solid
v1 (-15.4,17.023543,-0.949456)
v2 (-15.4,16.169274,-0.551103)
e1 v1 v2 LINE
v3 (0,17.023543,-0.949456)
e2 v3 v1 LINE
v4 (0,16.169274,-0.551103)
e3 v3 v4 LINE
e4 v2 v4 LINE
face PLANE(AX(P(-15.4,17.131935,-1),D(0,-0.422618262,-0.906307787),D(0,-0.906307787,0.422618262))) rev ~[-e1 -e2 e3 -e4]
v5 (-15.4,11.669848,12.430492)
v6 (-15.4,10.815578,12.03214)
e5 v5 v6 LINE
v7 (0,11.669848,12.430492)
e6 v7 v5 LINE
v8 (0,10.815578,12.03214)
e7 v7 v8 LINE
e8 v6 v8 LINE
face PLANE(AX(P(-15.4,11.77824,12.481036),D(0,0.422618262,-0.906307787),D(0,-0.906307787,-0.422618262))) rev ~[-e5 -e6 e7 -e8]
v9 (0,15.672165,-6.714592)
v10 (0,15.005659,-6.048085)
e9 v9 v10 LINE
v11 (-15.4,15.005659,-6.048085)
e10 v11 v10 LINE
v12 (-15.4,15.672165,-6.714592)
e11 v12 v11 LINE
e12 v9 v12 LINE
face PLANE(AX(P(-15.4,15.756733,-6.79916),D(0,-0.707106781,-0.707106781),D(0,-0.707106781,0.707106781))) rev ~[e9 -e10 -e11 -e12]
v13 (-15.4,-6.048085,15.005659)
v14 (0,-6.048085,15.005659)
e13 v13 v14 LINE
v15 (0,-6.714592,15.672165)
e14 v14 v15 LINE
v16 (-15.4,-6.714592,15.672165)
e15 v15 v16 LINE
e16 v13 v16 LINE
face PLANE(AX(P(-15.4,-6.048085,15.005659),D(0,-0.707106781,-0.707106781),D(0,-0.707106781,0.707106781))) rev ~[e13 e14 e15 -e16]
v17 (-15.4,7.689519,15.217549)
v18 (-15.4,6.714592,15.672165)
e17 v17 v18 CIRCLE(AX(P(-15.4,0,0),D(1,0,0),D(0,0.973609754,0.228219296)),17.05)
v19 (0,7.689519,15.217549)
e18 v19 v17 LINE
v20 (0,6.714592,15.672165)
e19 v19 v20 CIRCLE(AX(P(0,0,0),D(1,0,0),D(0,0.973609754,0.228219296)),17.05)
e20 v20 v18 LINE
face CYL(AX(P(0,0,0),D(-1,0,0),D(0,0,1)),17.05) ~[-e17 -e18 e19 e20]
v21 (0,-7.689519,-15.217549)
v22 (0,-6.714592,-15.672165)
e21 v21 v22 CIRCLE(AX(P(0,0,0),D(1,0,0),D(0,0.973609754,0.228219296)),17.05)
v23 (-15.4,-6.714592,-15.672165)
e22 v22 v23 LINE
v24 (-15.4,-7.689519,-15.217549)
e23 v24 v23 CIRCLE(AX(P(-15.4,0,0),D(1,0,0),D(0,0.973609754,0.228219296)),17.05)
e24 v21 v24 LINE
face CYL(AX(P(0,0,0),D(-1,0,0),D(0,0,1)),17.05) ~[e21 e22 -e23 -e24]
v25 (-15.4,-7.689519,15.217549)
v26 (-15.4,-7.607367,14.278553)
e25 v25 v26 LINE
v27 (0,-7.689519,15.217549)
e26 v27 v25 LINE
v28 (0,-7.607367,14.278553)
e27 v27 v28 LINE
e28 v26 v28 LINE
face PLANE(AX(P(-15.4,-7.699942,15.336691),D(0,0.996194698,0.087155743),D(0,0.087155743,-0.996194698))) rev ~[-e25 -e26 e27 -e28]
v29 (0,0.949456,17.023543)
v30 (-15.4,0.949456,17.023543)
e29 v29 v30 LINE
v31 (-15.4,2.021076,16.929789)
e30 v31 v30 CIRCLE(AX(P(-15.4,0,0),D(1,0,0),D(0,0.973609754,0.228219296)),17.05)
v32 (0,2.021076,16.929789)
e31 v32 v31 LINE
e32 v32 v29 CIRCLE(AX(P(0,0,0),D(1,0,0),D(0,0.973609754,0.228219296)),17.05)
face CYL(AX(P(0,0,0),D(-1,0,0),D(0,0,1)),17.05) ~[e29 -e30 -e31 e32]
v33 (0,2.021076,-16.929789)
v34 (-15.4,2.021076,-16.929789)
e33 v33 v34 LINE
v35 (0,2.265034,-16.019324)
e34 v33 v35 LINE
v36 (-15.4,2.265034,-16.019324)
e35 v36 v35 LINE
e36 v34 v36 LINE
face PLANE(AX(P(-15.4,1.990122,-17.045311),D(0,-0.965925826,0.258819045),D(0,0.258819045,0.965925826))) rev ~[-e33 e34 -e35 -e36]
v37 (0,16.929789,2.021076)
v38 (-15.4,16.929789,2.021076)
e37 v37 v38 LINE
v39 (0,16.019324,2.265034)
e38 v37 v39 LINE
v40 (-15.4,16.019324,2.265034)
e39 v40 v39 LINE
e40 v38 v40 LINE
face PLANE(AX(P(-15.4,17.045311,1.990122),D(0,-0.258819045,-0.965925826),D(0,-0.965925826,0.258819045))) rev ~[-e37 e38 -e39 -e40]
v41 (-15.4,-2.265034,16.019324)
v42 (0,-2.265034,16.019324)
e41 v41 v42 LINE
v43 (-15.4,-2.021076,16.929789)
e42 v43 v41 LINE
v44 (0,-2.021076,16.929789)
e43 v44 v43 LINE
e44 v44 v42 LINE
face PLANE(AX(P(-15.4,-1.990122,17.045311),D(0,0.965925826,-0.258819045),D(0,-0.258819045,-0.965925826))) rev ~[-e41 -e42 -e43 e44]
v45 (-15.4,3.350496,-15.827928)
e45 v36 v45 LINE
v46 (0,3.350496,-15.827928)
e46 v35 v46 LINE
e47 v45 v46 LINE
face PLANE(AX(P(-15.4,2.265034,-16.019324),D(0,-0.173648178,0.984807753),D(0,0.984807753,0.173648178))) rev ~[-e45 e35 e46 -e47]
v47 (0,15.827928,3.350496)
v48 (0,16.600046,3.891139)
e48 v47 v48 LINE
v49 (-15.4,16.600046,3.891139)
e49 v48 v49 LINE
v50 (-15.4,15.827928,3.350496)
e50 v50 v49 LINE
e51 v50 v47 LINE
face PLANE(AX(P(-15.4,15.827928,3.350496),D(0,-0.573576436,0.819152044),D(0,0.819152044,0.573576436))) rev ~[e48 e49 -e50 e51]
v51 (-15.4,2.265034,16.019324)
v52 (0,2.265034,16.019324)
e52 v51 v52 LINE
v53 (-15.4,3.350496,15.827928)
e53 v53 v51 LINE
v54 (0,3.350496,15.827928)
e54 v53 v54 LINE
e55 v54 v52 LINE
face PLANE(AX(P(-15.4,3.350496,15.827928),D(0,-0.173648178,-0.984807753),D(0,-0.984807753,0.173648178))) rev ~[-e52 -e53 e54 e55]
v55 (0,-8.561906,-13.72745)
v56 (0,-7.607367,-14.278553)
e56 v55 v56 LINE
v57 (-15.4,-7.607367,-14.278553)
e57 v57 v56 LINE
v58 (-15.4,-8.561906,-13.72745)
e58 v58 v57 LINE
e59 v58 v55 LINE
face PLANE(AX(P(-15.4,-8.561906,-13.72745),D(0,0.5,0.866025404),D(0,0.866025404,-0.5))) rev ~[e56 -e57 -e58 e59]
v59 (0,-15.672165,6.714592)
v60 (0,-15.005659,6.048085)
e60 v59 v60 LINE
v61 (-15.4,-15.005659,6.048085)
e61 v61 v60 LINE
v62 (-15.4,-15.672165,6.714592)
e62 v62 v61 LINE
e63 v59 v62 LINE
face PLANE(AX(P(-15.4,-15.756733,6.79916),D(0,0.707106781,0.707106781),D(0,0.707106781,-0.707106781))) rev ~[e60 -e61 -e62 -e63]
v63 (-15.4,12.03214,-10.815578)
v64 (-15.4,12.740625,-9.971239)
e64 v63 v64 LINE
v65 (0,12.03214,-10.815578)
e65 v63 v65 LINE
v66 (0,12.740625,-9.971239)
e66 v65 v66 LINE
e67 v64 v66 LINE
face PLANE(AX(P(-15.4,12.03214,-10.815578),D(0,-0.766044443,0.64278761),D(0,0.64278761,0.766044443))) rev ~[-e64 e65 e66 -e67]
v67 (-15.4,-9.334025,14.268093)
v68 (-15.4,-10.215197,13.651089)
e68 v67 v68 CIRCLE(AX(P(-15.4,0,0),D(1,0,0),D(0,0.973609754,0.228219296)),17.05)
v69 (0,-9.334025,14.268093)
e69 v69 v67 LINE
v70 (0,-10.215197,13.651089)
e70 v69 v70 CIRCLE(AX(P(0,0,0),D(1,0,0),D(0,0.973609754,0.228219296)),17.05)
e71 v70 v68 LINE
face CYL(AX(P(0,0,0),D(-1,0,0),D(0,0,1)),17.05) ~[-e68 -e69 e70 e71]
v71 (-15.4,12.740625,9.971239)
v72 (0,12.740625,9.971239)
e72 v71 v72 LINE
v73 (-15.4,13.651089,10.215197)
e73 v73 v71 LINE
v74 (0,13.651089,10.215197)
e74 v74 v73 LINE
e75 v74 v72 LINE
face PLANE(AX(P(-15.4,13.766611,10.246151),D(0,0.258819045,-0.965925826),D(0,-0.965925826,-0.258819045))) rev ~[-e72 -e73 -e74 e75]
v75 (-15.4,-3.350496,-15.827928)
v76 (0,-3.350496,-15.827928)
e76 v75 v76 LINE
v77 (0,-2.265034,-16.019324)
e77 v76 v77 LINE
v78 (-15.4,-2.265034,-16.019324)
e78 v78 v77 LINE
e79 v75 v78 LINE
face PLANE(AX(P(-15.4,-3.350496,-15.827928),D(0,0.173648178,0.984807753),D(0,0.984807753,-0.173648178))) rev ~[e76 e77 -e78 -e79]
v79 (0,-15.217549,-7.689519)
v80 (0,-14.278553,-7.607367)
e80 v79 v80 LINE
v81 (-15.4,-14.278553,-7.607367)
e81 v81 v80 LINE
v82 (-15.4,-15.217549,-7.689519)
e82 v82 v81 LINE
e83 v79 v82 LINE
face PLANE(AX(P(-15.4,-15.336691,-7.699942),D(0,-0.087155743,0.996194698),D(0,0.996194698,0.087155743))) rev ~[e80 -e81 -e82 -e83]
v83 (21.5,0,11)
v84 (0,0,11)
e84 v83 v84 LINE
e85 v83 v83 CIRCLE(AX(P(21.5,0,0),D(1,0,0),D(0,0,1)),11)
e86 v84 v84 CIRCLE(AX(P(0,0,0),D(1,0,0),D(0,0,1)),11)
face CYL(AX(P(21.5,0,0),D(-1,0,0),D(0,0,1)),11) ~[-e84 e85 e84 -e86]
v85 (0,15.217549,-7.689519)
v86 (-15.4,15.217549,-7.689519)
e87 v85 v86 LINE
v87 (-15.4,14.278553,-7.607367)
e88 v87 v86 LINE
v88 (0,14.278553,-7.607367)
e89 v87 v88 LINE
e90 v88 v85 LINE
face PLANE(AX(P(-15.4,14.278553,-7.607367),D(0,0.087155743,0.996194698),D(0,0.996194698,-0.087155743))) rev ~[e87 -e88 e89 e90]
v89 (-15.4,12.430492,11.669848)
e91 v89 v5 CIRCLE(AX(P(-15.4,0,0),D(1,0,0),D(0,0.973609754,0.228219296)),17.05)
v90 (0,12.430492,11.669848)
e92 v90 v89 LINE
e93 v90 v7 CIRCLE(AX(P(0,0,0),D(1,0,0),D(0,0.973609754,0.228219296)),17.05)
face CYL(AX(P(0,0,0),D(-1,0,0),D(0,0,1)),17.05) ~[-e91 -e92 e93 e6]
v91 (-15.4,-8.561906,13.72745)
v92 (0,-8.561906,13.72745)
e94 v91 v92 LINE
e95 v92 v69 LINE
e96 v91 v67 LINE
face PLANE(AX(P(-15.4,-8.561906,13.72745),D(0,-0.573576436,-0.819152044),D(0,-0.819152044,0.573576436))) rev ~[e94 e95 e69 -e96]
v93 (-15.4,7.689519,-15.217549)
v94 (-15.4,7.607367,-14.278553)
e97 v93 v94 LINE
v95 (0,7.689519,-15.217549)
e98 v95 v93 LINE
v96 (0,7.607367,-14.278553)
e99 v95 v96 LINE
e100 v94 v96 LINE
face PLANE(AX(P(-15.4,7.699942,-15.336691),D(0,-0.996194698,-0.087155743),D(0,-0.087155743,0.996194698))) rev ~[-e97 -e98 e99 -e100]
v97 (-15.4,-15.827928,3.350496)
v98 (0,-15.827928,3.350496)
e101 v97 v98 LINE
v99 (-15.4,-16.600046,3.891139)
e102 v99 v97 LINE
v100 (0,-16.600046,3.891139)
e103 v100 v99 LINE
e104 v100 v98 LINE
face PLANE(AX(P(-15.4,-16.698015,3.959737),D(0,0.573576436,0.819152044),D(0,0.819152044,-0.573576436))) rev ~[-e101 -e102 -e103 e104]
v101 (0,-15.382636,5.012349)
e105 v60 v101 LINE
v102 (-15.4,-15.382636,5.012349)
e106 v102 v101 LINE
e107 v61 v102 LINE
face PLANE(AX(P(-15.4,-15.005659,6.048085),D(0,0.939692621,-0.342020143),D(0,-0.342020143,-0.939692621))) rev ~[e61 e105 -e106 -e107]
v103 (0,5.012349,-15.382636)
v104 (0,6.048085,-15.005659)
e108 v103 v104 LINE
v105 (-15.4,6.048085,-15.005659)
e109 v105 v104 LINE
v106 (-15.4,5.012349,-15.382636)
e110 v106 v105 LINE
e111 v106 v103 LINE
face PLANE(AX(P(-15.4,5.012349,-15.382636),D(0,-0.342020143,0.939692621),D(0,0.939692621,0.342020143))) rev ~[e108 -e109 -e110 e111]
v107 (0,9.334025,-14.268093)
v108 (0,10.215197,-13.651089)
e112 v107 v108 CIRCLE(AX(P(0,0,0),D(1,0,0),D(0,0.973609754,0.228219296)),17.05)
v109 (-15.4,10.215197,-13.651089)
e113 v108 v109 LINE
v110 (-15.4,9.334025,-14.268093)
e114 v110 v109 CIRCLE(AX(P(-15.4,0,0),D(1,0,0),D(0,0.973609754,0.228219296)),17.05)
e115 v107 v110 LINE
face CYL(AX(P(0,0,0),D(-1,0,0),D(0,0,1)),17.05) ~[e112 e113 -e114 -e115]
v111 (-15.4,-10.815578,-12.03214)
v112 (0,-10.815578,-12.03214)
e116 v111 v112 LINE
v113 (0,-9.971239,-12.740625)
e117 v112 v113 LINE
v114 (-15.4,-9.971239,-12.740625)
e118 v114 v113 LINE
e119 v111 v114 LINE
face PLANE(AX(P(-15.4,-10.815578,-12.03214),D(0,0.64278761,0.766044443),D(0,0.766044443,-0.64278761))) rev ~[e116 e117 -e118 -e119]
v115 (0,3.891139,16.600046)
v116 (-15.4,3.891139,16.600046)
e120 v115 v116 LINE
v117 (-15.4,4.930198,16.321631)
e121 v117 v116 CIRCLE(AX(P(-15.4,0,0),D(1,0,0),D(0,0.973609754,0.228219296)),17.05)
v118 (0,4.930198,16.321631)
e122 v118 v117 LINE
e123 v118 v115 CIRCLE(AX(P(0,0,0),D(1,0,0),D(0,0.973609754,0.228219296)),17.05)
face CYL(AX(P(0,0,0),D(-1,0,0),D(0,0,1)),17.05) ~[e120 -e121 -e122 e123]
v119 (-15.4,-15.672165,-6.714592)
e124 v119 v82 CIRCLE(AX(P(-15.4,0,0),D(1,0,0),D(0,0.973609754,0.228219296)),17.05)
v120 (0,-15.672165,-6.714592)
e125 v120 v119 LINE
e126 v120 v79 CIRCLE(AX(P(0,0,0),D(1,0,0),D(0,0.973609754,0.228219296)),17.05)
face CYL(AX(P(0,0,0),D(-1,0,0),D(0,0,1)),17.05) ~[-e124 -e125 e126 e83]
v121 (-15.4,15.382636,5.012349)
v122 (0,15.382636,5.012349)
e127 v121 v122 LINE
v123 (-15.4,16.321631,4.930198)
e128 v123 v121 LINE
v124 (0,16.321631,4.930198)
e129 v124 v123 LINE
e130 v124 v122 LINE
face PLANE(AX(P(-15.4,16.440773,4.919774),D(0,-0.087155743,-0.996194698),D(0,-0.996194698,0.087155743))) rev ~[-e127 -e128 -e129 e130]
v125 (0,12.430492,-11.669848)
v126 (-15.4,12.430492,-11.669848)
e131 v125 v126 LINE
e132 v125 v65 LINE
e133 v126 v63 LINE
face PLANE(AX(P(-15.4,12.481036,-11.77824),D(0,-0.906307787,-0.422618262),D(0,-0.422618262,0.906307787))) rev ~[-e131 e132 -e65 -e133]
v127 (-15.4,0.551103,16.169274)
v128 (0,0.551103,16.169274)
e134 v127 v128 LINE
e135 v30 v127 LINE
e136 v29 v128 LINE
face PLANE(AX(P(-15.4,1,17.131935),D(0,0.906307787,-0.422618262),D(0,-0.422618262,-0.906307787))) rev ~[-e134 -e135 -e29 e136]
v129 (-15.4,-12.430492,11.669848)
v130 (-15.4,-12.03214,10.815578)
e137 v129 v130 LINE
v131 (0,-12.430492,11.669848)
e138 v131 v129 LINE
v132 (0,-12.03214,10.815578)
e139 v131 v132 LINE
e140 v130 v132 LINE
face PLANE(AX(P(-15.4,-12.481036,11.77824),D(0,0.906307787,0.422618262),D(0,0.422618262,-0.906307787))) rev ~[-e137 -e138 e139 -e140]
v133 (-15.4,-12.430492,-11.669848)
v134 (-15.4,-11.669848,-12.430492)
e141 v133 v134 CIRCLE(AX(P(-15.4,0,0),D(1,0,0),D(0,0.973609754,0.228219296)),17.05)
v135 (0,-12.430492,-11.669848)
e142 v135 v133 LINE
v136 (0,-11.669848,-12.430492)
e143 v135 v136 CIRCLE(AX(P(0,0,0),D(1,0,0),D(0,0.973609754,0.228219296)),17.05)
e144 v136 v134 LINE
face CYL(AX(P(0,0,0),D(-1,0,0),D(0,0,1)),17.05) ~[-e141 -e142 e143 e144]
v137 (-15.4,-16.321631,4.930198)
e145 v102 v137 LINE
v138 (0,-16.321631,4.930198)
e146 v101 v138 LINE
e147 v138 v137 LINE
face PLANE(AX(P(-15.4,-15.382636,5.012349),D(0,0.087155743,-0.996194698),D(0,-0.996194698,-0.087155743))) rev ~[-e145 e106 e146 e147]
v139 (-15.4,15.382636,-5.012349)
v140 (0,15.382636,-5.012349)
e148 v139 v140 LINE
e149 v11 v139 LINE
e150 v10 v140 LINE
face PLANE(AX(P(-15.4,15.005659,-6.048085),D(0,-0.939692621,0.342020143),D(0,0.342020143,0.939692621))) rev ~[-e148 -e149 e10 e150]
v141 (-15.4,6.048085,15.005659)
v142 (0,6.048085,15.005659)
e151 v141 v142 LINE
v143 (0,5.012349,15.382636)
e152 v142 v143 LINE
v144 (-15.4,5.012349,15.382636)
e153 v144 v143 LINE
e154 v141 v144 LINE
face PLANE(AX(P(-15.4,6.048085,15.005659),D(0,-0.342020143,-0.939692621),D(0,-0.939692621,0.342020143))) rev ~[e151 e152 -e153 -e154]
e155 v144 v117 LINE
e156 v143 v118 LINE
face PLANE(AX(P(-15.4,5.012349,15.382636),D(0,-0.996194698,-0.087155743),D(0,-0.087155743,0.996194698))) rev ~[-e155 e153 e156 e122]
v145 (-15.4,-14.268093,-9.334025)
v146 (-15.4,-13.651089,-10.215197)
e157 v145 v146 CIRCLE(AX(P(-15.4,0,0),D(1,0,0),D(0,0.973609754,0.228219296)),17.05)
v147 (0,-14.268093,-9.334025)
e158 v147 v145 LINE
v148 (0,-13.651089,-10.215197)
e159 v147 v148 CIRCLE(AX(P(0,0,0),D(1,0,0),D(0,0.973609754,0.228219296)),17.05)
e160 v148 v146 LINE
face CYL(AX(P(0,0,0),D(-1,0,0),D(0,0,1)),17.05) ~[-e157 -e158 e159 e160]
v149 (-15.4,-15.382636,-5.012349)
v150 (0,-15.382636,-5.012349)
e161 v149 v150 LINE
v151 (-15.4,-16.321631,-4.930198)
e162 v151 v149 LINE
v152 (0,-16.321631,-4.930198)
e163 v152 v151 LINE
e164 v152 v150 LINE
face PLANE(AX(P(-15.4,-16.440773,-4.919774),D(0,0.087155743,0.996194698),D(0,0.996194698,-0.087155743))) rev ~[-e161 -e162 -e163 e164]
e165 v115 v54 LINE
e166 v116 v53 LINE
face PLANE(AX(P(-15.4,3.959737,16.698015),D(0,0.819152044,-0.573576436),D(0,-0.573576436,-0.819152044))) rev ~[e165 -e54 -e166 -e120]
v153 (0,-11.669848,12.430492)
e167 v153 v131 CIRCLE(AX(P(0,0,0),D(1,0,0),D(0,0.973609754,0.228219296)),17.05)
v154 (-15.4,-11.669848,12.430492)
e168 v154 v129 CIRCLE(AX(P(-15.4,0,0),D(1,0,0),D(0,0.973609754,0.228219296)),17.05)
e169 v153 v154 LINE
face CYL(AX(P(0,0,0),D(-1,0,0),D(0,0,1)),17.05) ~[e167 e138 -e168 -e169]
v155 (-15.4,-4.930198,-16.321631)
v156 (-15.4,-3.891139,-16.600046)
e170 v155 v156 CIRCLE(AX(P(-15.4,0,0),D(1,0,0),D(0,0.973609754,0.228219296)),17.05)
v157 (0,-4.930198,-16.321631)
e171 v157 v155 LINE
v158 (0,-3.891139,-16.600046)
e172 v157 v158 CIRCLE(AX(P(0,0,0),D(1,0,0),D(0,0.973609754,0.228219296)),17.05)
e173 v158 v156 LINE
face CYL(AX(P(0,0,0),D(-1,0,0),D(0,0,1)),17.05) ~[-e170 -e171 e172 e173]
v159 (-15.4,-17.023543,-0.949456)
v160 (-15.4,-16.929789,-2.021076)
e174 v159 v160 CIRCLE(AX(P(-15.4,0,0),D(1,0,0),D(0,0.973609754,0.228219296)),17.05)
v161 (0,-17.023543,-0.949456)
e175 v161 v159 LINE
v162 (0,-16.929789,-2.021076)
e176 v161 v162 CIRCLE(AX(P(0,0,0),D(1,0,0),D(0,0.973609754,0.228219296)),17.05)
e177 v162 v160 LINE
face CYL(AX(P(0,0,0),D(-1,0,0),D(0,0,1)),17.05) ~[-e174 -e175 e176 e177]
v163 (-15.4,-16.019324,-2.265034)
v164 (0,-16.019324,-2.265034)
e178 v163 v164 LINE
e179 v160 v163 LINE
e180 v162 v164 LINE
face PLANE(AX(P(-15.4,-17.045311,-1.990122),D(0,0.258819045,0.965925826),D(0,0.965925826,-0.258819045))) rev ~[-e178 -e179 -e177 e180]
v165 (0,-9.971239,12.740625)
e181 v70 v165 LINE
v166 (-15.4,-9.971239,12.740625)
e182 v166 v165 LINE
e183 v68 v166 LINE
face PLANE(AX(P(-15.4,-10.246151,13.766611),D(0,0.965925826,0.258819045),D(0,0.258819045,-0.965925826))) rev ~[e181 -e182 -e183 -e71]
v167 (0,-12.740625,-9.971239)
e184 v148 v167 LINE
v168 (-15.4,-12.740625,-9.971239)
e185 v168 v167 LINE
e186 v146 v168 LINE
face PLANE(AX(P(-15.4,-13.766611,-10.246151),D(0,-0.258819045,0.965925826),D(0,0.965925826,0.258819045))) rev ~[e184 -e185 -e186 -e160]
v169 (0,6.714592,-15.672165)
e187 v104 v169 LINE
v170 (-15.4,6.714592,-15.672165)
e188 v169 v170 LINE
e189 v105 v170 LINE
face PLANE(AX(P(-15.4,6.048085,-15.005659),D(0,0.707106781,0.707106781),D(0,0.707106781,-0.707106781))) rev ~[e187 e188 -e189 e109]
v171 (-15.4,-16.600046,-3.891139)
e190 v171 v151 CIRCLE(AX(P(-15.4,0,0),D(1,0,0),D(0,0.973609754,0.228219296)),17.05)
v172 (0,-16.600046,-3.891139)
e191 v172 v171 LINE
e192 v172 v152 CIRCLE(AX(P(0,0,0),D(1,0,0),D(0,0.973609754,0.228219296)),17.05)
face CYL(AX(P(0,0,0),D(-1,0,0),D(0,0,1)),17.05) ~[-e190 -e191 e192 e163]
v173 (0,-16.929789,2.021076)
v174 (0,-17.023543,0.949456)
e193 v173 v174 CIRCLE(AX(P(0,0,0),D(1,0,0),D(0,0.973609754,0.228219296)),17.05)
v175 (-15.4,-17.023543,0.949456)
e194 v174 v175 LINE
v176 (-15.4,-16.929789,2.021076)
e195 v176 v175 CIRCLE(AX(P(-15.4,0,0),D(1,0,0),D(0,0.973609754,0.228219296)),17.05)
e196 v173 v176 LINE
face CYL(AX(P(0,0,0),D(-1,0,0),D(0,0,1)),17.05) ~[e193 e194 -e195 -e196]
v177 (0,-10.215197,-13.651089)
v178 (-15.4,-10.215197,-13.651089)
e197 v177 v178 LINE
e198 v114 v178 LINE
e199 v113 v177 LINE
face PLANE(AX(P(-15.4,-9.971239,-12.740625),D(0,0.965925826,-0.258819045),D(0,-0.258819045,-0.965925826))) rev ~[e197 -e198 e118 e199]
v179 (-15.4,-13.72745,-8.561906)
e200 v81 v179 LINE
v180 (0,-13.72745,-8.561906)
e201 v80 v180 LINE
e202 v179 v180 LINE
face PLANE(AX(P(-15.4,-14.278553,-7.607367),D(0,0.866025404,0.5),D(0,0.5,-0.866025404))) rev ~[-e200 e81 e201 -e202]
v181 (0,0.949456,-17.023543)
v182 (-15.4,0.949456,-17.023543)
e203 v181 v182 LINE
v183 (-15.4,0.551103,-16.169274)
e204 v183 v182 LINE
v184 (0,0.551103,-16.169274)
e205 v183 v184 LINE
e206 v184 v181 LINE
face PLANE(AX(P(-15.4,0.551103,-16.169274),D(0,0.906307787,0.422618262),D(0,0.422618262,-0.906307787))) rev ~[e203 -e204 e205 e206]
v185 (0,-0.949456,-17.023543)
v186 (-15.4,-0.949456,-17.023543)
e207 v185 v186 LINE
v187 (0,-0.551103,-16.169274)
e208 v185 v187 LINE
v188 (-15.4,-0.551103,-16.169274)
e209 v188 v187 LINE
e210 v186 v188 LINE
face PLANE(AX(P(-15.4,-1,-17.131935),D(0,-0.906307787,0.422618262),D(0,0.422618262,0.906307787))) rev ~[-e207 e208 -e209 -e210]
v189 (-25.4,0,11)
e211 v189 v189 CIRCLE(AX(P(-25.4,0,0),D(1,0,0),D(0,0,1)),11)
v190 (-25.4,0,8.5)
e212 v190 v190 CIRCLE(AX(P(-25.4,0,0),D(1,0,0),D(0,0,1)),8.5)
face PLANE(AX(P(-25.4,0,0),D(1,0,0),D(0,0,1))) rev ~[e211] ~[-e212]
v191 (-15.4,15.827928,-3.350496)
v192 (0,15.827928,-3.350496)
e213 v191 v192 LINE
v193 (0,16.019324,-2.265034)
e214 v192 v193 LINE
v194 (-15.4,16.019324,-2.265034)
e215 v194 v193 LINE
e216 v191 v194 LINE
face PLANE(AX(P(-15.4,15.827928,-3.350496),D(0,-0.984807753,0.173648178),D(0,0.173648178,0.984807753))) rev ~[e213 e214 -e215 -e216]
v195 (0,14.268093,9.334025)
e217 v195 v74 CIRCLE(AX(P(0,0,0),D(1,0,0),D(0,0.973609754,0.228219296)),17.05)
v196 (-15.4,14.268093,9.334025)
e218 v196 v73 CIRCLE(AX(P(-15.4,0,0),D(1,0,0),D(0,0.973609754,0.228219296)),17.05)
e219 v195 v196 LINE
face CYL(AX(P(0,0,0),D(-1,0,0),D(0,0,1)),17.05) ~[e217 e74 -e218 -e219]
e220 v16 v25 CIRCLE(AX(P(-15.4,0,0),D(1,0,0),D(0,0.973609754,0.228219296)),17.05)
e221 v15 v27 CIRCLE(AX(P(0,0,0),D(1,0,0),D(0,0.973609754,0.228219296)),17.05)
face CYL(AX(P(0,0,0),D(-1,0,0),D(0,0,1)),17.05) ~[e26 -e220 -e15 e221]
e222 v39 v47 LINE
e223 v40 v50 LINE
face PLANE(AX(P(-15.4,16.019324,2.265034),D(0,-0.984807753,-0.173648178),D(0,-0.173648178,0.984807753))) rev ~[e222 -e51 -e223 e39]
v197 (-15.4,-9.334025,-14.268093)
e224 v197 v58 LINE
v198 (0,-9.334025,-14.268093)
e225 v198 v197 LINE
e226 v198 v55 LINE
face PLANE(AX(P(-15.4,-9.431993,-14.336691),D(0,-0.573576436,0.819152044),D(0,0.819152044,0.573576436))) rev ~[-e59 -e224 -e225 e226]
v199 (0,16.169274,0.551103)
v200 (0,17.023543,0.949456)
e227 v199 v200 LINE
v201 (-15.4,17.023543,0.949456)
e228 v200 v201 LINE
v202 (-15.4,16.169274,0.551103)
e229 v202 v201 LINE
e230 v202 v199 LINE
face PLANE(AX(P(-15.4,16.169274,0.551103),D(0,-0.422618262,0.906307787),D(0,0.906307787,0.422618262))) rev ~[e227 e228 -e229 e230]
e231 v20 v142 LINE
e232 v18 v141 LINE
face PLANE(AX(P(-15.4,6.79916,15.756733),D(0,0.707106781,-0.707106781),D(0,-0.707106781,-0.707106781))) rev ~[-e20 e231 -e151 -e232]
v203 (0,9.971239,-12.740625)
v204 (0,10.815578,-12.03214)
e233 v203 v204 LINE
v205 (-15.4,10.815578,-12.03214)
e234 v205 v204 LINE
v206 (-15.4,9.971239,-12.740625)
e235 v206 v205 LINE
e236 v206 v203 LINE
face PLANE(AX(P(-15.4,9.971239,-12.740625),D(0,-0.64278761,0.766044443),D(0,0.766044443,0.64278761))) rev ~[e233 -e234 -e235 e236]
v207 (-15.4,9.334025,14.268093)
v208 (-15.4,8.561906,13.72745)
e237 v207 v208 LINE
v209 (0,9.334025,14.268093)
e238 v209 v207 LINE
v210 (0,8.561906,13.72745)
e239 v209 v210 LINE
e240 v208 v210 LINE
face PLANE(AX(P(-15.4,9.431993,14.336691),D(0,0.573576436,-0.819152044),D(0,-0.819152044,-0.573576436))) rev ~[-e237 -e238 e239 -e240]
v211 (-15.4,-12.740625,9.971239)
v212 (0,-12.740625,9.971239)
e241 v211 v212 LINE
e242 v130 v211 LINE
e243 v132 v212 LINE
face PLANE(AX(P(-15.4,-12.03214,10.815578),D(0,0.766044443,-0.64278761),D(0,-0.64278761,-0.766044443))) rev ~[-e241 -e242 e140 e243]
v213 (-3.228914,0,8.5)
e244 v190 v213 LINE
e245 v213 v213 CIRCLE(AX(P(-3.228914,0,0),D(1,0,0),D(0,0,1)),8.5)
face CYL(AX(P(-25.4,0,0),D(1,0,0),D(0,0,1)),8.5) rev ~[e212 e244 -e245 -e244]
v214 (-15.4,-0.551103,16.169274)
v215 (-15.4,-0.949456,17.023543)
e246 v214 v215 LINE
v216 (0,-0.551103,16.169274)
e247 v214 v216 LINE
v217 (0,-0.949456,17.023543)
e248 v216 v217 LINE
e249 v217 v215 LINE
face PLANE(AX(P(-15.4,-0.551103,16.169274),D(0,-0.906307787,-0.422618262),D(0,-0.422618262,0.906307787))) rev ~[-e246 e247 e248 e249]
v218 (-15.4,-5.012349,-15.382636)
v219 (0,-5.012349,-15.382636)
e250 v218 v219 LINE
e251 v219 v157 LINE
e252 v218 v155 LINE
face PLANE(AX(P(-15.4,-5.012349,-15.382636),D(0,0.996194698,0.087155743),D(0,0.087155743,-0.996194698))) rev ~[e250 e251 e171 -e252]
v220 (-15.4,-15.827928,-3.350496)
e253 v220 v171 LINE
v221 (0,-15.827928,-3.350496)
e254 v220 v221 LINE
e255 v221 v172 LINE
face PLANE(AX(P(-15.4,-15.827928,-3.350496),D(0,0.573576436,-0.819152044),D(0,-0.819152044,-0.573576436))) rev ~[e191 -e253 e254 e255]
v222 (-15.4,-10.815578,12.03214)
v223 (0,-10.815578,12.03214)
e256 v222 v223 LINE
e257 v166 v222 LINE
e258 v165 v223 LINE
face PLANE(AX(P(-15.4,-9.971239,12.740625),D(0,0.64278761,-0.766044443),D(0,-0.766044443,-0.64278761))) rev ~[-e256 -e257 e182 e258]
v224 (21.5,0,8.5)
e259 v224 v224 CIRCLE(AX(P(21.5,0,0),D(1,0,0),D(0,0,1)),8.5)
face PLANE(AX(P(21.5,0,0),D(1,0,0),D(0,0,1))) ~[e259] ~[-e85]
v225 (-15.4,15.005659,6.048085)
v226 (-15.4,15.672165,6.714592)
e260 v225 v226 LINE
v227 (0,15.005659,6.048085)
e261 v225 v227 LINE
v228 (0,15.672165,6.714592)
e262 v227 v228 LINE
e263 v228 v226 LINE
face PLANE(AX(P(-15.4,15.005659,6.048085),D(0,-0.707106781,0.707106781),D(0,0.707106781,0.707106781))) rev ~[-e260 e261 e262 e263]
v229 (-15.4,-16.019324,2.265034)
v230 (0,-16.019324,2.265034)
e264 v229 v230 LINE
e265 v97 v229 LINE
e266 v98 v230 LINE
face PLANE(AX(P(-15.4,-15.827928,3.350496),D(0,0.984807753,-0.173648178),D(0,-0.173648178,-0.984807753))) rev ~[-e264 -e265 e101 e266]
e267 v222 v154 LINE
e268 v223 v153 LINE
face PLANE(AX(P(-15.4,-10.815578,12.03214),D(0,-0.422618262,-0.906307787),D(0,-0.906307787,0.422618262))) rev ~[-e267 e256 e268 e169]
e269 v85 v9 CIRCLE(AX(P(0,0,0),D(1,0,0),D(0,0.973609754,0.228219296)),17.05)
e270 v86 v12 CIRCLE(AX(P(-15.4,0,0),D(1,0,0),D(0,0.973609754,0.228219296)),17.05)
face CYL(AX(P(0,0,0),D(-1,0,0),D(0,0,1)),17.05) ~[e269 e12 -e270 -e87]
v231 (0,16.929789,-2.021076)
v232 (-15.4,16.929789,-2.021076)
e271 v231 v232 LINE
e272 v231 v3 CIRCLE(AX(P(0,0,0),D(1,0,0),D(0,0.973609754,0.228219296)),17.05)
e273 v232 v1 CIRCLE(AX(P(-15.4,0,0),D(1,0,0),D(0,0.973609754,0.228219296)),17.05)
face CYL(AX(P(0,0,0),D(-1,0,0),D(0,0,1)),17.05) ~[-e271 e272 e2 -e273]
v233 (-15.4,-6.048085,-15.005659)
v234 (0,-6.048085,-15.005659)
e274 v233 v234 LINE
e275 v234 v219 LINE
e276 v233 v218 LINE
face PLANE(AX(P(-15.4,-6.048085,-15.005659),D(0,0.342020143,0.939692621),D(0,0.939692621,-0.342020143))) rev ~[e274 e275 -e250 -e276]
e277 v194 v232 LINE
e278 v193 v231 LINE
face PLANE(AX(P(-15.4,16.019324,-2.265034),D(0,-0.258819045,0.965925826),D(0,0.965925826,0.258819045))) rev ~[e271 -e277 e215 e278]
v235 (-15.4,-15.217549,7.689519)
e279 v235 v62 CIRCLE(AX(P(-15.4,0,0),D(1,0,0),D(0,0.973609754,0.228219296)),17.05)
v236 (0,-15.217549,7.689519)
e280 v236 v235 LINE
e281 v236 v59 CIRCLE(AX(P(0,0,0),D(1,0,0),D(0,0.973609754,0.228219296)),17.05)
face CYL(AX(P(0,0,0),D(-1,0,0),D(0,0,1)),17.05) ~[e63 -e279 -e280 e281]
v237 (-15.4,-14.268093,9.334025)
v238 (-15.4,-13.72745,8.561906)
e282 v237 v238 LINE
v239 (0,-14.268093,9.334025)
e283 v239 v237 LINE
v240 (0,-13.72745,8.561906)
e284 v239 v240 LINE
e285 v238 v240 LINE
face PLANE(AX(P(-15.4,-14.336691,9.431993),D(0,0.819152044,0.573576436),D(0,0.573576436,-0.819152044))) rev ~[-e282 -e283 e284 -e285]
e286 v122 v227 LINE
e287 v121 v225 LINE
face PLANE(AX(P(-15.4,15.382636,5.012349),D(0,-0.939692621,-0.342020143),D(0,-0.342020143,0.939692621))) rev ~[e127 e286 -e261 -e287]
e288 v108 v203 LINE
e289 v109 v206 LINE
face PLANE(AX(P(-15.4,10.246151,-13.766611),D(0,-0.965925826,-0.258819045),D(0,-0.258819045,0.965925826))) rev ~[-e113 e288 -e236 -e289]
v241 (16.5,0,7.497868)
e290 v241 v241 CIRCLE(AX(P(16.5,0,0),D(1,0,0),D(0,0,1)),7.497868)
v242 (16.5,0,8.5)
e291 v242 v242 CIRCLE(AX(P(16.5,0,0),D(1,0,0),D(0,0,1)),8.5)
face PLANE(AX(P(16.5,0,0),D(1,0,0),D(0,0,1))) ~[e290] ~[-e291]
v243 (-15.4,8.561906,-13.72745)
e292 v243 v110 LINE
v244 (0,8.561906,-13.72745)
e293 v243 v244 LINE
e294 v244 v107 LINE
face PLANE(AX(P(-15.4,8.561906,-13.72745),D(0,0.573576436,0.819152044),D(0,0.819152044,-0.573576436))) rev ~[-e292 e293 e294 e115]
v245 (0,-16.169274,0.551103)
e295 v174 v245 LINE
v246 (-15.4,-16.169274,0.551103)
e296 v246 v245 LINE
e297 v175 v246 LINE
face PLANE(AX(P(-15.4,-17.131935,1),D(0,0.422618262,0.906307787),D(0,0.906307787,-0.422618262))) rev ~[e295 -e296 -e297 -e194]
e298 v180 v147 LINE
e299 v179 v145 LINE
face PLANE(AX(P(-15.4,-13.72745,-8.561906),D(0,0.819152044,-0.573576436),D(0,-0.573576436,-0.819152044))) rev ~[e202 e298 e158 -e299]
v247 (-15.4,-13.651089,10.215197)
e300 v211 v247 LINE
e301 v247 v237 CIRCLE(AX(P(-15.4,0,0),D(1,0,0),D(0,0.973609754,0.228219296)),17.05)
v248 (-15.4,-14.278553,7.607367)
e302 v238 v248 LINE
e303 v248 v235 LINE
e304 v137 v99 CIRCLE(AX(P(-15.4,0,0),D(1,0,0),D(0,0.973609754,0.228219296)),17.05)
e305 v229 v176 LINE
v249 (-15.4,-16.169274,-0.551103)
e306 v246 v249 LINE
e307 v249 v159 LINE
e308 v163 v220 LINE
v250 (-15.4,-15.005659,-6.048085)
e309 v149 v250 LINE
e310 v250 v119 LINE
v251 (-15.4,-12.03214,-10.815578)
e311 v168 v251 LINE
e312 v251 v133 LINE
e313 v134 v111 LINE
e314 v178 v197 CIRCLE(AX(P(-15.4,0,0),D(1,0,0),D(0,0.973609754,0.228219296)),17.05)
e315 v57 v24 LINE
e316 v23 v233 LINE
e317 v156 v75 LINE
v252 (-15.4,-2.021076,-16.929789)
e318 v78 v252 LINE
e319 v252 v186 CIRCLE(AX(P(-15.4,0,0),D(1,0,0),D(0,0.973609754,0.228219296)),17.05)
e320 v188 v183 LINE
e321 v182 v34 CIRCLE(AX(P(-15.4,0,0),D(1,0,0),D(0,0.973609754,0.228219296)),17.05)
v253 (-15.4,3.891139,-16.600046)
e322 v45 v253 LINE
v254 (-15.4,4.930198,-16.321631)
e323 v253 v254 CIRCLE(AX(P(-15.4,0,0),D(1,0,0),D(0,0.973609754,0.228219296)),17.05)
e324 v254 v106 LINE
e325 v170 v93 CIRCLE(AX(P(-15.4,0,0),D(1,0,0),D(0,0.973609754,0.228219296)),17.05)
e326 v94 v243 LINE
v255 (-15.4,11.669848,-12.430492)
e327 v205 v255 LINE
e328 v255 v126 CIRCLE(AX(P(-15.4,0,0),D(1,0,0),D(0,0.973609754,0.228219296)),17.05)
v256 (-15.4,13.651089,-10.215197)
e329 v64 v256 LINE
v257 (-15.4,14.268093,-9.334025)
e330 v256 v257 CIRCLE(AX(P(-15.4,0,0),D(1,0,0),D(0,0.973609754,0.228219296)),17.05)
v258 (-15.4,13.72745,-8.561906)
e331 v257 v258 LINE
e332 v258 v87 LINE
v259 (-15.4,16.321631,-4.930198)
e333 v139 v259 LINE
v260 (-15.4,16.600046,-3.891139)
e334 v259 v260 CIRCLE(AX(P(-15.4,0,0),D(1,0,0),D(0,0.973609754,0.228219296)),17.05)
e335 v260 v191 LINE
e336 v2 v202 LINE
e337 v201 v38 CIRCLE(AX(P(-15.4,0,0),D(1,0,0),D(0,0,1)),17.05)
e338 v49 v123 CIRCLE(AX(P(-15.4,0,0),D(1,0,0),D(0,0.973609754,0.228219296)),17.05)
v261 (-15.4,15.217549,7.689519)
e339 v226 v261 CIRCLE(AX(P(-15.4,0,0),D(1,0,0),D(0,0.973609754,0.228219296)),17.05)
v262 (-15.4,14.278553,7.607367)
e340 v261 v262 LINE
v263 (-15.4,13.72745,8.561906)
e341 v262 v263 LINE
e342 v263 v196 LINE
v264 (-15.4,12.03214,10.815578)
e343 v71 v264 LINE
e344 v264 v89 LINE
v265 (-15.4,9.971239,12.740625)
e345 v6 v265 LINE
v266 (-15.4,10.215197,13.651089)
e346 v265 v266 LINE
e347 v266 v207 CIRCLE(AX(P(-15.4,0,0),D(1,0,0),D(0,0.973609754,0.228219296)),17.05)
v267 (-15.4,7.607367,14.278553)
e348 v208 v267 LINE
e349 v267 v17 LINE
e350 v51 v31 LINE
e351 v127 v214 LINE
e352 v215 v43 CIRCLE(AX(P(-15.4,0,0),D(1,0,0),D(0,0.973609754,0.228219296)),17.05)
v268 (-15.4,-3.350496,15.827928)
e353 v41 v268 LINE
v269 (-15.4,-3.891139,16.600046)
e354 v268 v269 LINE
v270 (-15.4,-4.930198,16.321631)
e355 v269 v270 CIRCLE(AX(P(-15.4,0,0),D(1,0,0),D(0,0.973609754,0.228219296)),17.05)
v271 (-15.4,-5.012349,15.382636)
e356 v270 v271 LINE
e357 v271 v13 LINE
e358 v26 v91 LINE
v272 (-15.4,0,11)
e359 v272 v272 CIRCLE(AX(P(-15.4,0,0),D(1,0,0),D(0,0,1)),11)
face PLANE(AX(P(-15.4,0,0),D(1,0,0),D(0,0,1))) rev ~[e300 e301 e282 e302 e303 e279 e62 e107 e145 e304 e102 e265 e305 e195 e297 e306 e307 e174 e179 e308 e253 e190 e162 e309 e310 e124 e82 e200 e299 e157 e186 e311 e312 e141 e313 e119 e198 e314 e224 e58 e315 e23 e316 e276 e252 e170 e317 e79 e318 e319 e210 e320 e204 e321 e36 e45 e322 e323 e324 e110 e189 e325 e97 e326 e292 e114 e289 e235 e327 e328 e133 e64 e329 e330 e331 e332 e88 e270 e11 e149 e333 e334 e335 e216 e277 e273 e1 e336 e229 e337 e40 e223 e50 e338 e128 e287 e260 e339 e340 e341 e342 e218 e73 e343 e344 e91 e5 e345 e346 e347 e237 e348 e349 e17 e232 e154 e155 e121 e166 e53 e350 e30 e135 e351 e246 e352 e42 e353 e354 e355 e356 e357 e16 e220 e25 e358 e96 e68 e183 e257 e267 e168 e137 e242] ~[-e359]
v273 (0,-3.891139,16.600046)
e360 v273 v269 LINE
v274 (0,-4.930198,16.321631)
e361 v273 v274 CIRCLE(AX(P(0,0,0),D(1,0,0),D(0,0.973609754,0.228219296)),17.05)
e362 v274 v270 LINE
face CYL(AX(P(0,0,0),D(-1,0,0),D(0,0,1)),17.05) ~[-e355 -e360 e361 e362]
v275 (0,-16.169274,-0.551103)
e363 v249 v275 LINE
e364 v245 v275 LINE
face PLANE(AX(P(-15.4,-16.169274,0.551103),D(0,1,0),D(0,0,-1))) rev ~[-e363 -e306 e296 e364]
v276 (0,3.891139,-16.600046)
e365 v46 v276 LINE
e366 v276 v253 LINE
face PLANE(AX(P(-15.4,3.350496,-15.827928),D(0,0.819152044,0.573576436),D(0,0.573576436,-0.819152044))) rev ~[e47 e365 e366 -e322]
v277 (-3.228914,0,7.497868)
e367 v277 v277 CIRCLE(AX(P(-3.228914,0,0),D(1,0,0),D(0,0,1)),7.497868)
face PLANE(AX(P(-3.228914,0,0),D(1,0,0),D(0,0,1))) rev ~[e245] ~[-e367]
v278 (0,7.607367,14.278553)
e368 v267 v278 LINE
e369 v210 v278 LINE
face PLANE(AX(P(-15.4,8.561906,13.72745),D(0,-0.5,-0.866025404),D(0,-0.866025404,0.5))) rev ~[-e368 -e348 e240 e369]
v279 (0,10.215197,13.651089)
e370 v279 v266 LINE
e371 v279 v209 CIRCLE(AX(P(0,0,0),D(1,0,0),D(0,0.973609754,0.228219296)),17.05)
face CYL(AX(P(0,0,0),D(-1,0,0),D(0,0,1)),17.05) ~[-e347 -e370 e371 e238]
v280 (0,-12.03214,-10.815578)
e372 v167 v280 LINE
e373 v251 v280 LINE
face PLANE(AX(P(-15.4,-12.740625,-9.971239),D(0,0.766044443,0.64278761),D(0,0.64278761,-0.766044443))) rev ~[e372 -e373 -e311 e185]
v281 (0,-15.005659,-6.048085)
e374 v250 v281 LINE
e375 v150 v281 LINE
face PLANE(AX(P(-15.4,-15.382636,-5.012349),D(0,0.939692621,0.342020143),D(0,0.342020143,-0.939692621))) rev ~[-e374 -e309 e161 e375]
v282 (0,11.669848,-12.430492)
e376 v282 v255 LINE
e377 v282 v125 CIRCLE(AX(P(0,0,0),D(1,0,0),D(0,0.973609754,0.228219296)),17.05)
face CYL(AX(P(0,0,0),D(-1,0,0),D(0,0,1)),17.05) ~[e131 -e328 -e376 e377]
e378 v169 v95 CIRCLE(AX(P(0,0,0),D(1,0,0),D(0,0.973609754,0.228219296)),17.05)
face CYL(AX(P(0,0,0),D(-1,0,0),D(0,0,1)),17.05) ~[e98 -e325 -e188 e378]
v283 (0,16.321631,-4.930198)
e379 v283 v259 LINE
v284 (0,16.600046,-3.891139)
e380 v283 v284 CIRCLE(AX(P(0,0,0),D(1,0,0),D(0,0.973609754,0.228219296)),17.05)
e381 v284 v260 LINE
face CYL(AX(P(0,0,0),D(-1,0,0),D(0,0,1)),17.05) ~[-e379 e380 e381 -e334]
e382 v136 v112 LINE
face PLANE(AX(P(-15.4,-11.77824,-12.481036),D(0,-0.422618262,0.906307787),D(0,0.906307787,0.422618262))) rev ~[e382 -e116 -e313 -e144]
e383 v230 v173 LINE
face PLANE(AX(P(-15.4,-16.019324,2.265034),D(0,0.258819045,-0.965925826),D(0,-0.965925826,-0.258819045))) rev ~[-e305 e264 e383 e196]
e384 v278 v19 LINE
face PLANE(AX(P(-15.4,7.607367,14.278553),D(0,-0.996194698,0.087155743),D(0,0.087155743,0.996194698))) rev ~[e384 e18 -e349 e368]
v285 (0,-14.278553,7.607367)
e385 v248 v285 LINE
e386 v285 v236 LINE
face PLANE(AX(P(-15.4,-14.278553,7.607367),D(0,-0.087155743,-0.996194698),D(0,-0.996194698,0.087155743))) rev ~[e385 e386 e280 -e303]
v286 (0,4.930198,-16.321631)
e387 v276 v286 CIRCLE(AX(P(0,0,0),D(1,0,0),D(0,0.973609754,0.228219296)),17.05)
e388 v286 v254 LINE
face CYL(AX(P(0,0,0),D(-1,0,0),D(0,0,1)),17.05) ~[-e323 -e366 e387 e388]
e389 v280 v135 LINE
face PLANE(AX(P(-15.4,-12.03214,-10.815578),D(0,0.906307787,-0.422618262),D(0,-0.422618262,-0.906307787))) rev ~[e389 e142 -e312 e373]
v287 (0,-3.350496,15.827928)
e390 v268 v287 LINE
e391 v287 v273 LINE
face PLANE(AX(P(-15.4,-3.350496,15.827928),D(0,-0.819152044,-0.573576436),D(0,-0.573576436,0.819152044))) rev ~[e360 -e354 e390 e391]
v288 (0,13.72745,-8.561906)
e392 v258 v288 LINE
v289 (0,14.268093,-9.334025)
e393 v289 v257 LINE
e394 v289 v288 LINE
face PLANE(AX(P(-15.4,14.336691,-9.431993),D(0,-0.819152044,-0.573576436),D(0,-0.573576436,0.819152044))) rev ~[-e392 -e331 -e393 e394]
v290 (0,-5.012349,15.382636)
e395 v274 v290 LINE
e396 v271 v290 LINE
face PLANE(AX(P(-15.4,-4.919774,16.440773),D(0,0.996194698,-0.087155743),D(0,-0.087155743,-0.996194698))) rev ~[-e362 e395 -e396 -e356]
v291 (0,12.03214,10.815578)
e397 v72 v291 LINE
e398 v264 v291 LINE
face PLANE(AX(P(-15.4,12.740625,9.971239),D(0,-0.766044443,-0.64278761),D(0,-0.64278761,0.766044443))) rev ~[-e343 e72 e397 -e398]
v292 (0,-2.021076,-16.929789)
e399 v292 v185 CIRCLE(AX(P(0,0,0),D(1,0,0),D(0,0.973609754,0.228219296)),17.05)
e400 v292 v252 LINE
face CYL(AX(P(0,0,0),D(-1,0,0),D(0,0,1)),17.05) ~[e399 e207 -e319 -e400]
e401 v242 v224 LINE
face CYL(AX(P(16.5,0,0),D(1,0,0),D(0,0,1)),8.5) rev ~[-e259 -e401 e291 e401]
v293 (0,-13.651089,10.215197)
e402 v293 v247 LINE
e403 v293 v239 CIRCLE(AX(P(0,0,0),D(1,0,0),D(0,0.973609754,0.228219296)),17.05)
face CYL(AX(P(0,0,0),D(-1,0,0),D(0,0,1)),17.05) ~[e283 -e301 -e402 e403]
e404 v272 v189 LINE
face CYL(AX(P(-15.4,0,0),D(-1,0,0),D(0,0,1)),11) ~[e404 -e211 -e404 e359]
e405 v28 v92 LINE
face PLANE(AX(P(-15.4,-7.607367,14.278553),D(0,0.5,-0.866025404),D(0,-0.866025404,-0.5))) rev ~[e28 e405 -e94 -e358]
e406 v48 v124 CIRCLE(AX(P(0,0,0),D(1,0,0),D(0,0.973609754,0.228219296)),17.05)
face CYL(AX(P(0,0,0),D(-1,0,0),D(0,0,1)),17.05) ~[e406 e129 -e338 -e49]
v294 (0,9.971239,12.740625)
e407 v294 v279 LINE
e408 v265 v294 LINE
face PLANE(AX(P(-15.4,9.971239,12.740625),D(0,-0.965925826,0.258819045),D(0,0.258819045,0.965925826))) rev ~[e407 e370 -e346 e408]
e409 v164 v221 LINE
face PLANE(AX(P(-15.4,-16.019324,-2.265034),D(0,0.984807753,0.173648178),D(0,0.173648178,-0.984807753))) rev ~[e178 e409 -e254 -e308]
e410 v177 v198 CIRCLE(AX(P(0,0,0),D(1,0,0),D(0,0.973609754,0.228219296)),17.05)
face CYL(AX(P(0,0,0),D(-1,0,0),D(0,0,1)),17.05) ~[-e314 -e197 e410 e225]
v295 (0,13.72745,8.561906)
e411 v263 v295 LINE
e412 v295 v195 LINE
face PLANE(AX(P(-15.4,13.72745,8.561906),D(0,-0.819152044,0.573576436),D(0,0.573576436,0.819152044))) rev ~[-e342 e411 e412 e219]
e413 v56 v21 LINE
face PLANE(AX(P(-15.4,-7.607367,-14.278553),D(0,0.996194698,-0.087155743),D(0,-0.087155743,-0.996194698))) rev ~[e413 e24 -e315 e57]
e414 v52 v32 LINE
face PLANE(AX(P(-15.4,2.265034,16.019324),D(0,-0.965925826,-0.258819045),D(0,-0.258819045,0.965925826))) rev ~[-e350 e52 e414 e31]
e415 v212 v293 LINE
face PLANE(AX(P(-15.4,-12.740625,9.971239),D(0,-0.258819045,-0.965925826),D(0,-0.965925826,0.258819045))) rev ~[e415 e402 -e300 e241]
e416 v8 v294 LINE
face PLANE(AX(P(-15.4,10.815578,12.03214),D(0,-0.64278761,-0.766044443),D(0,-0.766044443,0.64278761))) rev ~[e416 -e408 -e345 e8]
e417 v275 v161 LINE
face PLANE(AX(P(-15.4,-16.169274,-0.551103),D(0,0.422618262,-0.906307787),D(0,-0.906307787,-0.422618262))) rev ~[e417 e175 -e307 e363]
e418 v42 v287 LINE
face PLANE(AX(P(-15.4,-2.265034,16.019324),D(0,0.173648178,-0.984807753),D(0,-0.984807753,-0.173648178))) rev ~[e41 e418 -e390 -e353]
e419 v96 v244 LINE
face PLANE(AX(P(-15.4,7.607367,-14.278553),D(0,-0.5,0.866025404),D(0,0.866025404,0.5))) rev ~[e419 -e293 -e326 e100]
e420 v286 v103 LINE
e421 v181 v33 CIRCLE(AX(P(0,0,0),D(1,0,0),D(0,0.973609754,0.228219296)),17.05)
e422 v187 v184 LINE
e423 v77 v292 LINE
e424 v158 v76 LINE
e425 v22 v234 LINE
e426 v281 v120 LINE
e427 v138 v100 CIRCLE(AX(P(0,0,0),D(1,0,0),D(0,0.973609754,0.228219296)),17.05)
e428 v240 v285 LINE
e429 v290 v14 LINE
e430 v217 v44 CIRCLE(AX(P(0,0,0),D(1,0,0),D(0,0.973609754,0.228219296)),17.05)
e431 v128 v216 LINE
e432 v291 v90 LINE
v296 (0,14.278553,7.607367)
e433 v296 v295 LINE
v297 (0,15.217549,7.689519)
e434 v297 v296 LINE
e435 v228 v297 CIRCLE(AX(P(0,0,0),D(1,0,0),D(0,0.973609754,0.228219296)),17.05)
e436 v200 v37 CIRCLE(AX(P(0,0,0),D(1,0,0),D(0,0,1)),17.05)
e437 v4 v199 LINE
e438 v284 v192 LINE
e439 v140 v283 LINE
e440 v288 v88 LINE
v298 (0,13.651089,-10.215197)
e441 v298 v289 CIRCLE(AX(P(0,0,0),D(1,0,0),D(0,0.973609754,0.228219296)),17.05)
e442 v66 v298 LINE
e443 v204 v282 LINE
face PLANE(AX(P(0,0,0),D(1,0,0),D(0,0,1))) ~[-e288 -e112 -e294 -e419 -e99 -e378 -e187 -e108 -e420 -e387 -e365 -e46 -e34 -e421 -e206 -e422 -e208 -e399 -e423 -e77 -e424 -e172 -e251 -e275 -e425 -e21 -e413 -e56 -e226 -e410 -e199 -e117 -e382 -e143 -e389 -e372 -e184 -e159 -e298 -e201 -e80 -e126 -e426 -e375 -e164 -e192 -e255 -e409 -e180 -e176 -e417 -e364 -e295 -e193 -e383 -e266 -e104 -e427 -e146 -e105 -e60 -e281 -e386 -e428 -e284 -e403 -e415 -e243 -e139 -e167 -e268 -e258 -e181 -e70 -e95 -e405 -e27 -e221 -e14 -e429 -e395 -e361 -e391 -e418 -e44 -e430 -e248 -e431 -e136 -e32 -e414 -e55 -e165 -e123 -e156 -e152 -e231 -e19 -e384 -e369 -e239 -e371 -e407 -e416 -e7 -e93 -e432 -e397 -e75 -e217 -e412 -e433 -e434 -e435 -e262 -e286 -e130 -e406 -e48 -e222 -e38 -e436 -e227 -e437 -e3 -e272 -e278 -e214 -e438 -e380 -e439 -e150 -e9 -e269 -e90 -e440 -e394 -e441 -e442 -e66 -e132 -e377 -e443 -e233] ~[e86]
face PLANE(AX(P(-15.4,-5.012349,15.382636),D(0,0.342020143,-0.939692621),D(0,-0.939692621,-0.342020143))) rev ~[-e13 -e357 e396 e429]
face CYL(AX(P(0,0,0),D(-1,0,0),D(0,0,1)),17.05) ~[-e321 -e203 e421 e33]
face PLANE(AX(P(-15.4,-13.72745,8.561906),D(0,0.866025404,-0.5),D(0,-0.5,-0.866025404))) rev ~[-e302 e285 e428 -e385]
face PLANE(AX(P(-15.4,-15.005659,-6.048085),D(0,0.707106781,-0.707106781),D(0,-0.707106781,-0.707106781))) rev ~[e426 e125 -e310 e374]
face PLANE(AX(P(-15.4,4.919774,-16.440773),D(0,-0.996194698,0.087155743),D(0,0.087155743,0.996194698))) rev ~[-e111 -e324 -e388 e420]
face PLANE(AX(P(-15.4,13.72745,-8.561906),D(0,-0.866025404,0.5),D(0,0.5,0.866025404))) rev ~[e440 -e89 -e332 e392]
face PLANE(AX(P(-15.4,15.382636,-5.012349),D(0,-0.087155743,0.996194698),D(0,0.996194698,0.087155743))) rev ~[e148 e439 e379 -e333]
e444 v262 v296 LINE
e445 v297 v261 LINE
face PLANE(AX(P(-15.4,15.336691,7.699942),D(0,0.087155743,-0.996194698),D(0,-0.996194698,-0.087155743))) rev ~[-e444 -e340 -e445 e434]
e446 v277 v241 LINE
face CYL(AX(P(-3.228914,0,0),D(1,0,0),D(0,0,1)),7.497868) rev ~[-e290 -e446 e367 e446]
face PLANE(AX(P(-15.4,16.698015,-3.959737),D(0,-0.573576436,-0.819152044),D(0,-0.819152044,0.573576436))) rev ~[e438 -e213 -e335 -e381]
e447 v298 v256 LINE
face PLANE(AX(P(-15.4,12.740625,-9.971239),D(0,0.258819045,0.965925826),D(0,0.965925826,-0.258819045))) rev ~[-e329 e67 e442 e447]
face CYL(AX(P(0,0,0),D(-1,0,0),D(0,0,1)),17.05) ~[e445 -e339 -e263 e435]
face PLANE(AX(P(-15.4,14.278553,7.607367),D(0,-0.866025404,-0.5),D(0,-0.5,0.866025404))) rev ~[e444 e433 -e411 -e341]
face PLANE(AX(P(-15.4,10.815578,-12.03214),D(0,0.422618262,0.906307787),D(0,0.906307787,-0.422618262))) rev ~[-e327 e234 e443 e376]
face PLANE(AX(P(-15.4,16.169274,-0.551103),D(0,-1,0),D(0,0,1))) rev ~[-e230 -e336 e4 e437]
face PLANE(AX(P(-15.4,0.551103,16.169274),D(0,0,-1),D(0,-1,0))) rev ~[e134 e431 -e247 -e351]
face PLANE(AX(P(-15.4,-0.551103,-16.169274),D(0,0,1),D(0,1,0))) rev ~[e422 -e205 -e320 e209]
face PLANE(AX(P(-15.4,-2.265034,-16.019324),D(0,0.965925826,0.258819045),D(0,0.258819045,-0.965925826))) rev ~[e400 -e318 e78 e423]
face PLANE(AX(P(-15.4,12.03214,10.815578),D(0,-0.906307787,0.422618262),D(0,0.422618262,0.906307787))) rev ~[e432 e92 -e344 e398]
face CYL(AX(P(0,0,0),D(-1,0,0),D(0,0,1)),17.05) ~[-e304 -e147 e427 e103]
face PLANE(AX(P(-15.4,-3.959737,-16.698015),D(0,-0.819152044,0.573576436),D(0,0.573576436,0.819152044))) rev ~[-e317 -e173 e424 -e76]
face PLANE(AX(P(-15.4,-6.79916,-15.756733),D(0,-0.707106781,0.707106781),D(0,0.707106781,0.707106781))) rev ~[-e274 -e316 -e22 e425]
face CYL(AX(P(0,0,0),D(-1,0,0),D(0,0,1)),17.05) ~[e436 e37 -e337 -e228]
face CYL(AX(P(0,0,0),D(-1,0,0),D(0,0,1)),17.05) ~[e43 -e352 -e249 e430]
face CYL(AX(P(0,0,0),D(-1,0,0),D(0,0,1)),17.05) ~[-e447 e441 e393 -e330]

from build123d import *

# Parameters (mm, degrees)
EXTRUSION1_DEPTH             = 45.079643828
R_P_TITION_CIRCULAIRE1_COUNT = 36


with BuildPart() as part:
    # Esquisse1 → Révolution1 (revolve)
    with BuildSketch(Plane.XY, mode=Mode.PRIVATE) as r_volution1_sk:
        Polygon((21.5, 8.5), (21.5, 11), (0, 11), (0, 17.05), (-15.4, 17.05), (-15.4, 11), (-25.4, 11), (-25.4, 8.5), (-3.228913747, 8.5), (-3.228913747, 7.497868496), (16.5, 7.497868496), (16.5, 8.5), align=None)
    revolve(r_volution1_sk.sketch.rotate(Axis((-31.537627468, 0, 0), (1, 0, 0)), 90), axis=Axis((-31.537627468, 0, 0), (1, 0, 0)))

    # Esquisse2 → Extrusion1 (cut, through all)
    with BuildSketch(Plane.ZY.offset(15.4)):
        Polygon((-1, 17.131935336), (-0.551103456, 16.169273591), (0.551103456, 16.169273591), (1, 17.131935336), align=None)
    extrusion1 = extrude(amount=-EXTRUSION1_DEPTH, mode=Mode.SUBTRACT)

    # Répétition circulaire1: Extrusion1 ×36 about axis
    r_p_tition_circulaire1_axis = Axis((0, 0, 0), (1, 0, 0))
    for i in range(1, R_P_TITION_CIRCULAIRE1_COUNT):
        add(extrusion1.rotate(r_p_tition_circulaire1_axis, i * 360 / R_P_TITION_CIRCULAIRE1_COUNT), mode=Mode.SUBTRACT)


solid = part.part
